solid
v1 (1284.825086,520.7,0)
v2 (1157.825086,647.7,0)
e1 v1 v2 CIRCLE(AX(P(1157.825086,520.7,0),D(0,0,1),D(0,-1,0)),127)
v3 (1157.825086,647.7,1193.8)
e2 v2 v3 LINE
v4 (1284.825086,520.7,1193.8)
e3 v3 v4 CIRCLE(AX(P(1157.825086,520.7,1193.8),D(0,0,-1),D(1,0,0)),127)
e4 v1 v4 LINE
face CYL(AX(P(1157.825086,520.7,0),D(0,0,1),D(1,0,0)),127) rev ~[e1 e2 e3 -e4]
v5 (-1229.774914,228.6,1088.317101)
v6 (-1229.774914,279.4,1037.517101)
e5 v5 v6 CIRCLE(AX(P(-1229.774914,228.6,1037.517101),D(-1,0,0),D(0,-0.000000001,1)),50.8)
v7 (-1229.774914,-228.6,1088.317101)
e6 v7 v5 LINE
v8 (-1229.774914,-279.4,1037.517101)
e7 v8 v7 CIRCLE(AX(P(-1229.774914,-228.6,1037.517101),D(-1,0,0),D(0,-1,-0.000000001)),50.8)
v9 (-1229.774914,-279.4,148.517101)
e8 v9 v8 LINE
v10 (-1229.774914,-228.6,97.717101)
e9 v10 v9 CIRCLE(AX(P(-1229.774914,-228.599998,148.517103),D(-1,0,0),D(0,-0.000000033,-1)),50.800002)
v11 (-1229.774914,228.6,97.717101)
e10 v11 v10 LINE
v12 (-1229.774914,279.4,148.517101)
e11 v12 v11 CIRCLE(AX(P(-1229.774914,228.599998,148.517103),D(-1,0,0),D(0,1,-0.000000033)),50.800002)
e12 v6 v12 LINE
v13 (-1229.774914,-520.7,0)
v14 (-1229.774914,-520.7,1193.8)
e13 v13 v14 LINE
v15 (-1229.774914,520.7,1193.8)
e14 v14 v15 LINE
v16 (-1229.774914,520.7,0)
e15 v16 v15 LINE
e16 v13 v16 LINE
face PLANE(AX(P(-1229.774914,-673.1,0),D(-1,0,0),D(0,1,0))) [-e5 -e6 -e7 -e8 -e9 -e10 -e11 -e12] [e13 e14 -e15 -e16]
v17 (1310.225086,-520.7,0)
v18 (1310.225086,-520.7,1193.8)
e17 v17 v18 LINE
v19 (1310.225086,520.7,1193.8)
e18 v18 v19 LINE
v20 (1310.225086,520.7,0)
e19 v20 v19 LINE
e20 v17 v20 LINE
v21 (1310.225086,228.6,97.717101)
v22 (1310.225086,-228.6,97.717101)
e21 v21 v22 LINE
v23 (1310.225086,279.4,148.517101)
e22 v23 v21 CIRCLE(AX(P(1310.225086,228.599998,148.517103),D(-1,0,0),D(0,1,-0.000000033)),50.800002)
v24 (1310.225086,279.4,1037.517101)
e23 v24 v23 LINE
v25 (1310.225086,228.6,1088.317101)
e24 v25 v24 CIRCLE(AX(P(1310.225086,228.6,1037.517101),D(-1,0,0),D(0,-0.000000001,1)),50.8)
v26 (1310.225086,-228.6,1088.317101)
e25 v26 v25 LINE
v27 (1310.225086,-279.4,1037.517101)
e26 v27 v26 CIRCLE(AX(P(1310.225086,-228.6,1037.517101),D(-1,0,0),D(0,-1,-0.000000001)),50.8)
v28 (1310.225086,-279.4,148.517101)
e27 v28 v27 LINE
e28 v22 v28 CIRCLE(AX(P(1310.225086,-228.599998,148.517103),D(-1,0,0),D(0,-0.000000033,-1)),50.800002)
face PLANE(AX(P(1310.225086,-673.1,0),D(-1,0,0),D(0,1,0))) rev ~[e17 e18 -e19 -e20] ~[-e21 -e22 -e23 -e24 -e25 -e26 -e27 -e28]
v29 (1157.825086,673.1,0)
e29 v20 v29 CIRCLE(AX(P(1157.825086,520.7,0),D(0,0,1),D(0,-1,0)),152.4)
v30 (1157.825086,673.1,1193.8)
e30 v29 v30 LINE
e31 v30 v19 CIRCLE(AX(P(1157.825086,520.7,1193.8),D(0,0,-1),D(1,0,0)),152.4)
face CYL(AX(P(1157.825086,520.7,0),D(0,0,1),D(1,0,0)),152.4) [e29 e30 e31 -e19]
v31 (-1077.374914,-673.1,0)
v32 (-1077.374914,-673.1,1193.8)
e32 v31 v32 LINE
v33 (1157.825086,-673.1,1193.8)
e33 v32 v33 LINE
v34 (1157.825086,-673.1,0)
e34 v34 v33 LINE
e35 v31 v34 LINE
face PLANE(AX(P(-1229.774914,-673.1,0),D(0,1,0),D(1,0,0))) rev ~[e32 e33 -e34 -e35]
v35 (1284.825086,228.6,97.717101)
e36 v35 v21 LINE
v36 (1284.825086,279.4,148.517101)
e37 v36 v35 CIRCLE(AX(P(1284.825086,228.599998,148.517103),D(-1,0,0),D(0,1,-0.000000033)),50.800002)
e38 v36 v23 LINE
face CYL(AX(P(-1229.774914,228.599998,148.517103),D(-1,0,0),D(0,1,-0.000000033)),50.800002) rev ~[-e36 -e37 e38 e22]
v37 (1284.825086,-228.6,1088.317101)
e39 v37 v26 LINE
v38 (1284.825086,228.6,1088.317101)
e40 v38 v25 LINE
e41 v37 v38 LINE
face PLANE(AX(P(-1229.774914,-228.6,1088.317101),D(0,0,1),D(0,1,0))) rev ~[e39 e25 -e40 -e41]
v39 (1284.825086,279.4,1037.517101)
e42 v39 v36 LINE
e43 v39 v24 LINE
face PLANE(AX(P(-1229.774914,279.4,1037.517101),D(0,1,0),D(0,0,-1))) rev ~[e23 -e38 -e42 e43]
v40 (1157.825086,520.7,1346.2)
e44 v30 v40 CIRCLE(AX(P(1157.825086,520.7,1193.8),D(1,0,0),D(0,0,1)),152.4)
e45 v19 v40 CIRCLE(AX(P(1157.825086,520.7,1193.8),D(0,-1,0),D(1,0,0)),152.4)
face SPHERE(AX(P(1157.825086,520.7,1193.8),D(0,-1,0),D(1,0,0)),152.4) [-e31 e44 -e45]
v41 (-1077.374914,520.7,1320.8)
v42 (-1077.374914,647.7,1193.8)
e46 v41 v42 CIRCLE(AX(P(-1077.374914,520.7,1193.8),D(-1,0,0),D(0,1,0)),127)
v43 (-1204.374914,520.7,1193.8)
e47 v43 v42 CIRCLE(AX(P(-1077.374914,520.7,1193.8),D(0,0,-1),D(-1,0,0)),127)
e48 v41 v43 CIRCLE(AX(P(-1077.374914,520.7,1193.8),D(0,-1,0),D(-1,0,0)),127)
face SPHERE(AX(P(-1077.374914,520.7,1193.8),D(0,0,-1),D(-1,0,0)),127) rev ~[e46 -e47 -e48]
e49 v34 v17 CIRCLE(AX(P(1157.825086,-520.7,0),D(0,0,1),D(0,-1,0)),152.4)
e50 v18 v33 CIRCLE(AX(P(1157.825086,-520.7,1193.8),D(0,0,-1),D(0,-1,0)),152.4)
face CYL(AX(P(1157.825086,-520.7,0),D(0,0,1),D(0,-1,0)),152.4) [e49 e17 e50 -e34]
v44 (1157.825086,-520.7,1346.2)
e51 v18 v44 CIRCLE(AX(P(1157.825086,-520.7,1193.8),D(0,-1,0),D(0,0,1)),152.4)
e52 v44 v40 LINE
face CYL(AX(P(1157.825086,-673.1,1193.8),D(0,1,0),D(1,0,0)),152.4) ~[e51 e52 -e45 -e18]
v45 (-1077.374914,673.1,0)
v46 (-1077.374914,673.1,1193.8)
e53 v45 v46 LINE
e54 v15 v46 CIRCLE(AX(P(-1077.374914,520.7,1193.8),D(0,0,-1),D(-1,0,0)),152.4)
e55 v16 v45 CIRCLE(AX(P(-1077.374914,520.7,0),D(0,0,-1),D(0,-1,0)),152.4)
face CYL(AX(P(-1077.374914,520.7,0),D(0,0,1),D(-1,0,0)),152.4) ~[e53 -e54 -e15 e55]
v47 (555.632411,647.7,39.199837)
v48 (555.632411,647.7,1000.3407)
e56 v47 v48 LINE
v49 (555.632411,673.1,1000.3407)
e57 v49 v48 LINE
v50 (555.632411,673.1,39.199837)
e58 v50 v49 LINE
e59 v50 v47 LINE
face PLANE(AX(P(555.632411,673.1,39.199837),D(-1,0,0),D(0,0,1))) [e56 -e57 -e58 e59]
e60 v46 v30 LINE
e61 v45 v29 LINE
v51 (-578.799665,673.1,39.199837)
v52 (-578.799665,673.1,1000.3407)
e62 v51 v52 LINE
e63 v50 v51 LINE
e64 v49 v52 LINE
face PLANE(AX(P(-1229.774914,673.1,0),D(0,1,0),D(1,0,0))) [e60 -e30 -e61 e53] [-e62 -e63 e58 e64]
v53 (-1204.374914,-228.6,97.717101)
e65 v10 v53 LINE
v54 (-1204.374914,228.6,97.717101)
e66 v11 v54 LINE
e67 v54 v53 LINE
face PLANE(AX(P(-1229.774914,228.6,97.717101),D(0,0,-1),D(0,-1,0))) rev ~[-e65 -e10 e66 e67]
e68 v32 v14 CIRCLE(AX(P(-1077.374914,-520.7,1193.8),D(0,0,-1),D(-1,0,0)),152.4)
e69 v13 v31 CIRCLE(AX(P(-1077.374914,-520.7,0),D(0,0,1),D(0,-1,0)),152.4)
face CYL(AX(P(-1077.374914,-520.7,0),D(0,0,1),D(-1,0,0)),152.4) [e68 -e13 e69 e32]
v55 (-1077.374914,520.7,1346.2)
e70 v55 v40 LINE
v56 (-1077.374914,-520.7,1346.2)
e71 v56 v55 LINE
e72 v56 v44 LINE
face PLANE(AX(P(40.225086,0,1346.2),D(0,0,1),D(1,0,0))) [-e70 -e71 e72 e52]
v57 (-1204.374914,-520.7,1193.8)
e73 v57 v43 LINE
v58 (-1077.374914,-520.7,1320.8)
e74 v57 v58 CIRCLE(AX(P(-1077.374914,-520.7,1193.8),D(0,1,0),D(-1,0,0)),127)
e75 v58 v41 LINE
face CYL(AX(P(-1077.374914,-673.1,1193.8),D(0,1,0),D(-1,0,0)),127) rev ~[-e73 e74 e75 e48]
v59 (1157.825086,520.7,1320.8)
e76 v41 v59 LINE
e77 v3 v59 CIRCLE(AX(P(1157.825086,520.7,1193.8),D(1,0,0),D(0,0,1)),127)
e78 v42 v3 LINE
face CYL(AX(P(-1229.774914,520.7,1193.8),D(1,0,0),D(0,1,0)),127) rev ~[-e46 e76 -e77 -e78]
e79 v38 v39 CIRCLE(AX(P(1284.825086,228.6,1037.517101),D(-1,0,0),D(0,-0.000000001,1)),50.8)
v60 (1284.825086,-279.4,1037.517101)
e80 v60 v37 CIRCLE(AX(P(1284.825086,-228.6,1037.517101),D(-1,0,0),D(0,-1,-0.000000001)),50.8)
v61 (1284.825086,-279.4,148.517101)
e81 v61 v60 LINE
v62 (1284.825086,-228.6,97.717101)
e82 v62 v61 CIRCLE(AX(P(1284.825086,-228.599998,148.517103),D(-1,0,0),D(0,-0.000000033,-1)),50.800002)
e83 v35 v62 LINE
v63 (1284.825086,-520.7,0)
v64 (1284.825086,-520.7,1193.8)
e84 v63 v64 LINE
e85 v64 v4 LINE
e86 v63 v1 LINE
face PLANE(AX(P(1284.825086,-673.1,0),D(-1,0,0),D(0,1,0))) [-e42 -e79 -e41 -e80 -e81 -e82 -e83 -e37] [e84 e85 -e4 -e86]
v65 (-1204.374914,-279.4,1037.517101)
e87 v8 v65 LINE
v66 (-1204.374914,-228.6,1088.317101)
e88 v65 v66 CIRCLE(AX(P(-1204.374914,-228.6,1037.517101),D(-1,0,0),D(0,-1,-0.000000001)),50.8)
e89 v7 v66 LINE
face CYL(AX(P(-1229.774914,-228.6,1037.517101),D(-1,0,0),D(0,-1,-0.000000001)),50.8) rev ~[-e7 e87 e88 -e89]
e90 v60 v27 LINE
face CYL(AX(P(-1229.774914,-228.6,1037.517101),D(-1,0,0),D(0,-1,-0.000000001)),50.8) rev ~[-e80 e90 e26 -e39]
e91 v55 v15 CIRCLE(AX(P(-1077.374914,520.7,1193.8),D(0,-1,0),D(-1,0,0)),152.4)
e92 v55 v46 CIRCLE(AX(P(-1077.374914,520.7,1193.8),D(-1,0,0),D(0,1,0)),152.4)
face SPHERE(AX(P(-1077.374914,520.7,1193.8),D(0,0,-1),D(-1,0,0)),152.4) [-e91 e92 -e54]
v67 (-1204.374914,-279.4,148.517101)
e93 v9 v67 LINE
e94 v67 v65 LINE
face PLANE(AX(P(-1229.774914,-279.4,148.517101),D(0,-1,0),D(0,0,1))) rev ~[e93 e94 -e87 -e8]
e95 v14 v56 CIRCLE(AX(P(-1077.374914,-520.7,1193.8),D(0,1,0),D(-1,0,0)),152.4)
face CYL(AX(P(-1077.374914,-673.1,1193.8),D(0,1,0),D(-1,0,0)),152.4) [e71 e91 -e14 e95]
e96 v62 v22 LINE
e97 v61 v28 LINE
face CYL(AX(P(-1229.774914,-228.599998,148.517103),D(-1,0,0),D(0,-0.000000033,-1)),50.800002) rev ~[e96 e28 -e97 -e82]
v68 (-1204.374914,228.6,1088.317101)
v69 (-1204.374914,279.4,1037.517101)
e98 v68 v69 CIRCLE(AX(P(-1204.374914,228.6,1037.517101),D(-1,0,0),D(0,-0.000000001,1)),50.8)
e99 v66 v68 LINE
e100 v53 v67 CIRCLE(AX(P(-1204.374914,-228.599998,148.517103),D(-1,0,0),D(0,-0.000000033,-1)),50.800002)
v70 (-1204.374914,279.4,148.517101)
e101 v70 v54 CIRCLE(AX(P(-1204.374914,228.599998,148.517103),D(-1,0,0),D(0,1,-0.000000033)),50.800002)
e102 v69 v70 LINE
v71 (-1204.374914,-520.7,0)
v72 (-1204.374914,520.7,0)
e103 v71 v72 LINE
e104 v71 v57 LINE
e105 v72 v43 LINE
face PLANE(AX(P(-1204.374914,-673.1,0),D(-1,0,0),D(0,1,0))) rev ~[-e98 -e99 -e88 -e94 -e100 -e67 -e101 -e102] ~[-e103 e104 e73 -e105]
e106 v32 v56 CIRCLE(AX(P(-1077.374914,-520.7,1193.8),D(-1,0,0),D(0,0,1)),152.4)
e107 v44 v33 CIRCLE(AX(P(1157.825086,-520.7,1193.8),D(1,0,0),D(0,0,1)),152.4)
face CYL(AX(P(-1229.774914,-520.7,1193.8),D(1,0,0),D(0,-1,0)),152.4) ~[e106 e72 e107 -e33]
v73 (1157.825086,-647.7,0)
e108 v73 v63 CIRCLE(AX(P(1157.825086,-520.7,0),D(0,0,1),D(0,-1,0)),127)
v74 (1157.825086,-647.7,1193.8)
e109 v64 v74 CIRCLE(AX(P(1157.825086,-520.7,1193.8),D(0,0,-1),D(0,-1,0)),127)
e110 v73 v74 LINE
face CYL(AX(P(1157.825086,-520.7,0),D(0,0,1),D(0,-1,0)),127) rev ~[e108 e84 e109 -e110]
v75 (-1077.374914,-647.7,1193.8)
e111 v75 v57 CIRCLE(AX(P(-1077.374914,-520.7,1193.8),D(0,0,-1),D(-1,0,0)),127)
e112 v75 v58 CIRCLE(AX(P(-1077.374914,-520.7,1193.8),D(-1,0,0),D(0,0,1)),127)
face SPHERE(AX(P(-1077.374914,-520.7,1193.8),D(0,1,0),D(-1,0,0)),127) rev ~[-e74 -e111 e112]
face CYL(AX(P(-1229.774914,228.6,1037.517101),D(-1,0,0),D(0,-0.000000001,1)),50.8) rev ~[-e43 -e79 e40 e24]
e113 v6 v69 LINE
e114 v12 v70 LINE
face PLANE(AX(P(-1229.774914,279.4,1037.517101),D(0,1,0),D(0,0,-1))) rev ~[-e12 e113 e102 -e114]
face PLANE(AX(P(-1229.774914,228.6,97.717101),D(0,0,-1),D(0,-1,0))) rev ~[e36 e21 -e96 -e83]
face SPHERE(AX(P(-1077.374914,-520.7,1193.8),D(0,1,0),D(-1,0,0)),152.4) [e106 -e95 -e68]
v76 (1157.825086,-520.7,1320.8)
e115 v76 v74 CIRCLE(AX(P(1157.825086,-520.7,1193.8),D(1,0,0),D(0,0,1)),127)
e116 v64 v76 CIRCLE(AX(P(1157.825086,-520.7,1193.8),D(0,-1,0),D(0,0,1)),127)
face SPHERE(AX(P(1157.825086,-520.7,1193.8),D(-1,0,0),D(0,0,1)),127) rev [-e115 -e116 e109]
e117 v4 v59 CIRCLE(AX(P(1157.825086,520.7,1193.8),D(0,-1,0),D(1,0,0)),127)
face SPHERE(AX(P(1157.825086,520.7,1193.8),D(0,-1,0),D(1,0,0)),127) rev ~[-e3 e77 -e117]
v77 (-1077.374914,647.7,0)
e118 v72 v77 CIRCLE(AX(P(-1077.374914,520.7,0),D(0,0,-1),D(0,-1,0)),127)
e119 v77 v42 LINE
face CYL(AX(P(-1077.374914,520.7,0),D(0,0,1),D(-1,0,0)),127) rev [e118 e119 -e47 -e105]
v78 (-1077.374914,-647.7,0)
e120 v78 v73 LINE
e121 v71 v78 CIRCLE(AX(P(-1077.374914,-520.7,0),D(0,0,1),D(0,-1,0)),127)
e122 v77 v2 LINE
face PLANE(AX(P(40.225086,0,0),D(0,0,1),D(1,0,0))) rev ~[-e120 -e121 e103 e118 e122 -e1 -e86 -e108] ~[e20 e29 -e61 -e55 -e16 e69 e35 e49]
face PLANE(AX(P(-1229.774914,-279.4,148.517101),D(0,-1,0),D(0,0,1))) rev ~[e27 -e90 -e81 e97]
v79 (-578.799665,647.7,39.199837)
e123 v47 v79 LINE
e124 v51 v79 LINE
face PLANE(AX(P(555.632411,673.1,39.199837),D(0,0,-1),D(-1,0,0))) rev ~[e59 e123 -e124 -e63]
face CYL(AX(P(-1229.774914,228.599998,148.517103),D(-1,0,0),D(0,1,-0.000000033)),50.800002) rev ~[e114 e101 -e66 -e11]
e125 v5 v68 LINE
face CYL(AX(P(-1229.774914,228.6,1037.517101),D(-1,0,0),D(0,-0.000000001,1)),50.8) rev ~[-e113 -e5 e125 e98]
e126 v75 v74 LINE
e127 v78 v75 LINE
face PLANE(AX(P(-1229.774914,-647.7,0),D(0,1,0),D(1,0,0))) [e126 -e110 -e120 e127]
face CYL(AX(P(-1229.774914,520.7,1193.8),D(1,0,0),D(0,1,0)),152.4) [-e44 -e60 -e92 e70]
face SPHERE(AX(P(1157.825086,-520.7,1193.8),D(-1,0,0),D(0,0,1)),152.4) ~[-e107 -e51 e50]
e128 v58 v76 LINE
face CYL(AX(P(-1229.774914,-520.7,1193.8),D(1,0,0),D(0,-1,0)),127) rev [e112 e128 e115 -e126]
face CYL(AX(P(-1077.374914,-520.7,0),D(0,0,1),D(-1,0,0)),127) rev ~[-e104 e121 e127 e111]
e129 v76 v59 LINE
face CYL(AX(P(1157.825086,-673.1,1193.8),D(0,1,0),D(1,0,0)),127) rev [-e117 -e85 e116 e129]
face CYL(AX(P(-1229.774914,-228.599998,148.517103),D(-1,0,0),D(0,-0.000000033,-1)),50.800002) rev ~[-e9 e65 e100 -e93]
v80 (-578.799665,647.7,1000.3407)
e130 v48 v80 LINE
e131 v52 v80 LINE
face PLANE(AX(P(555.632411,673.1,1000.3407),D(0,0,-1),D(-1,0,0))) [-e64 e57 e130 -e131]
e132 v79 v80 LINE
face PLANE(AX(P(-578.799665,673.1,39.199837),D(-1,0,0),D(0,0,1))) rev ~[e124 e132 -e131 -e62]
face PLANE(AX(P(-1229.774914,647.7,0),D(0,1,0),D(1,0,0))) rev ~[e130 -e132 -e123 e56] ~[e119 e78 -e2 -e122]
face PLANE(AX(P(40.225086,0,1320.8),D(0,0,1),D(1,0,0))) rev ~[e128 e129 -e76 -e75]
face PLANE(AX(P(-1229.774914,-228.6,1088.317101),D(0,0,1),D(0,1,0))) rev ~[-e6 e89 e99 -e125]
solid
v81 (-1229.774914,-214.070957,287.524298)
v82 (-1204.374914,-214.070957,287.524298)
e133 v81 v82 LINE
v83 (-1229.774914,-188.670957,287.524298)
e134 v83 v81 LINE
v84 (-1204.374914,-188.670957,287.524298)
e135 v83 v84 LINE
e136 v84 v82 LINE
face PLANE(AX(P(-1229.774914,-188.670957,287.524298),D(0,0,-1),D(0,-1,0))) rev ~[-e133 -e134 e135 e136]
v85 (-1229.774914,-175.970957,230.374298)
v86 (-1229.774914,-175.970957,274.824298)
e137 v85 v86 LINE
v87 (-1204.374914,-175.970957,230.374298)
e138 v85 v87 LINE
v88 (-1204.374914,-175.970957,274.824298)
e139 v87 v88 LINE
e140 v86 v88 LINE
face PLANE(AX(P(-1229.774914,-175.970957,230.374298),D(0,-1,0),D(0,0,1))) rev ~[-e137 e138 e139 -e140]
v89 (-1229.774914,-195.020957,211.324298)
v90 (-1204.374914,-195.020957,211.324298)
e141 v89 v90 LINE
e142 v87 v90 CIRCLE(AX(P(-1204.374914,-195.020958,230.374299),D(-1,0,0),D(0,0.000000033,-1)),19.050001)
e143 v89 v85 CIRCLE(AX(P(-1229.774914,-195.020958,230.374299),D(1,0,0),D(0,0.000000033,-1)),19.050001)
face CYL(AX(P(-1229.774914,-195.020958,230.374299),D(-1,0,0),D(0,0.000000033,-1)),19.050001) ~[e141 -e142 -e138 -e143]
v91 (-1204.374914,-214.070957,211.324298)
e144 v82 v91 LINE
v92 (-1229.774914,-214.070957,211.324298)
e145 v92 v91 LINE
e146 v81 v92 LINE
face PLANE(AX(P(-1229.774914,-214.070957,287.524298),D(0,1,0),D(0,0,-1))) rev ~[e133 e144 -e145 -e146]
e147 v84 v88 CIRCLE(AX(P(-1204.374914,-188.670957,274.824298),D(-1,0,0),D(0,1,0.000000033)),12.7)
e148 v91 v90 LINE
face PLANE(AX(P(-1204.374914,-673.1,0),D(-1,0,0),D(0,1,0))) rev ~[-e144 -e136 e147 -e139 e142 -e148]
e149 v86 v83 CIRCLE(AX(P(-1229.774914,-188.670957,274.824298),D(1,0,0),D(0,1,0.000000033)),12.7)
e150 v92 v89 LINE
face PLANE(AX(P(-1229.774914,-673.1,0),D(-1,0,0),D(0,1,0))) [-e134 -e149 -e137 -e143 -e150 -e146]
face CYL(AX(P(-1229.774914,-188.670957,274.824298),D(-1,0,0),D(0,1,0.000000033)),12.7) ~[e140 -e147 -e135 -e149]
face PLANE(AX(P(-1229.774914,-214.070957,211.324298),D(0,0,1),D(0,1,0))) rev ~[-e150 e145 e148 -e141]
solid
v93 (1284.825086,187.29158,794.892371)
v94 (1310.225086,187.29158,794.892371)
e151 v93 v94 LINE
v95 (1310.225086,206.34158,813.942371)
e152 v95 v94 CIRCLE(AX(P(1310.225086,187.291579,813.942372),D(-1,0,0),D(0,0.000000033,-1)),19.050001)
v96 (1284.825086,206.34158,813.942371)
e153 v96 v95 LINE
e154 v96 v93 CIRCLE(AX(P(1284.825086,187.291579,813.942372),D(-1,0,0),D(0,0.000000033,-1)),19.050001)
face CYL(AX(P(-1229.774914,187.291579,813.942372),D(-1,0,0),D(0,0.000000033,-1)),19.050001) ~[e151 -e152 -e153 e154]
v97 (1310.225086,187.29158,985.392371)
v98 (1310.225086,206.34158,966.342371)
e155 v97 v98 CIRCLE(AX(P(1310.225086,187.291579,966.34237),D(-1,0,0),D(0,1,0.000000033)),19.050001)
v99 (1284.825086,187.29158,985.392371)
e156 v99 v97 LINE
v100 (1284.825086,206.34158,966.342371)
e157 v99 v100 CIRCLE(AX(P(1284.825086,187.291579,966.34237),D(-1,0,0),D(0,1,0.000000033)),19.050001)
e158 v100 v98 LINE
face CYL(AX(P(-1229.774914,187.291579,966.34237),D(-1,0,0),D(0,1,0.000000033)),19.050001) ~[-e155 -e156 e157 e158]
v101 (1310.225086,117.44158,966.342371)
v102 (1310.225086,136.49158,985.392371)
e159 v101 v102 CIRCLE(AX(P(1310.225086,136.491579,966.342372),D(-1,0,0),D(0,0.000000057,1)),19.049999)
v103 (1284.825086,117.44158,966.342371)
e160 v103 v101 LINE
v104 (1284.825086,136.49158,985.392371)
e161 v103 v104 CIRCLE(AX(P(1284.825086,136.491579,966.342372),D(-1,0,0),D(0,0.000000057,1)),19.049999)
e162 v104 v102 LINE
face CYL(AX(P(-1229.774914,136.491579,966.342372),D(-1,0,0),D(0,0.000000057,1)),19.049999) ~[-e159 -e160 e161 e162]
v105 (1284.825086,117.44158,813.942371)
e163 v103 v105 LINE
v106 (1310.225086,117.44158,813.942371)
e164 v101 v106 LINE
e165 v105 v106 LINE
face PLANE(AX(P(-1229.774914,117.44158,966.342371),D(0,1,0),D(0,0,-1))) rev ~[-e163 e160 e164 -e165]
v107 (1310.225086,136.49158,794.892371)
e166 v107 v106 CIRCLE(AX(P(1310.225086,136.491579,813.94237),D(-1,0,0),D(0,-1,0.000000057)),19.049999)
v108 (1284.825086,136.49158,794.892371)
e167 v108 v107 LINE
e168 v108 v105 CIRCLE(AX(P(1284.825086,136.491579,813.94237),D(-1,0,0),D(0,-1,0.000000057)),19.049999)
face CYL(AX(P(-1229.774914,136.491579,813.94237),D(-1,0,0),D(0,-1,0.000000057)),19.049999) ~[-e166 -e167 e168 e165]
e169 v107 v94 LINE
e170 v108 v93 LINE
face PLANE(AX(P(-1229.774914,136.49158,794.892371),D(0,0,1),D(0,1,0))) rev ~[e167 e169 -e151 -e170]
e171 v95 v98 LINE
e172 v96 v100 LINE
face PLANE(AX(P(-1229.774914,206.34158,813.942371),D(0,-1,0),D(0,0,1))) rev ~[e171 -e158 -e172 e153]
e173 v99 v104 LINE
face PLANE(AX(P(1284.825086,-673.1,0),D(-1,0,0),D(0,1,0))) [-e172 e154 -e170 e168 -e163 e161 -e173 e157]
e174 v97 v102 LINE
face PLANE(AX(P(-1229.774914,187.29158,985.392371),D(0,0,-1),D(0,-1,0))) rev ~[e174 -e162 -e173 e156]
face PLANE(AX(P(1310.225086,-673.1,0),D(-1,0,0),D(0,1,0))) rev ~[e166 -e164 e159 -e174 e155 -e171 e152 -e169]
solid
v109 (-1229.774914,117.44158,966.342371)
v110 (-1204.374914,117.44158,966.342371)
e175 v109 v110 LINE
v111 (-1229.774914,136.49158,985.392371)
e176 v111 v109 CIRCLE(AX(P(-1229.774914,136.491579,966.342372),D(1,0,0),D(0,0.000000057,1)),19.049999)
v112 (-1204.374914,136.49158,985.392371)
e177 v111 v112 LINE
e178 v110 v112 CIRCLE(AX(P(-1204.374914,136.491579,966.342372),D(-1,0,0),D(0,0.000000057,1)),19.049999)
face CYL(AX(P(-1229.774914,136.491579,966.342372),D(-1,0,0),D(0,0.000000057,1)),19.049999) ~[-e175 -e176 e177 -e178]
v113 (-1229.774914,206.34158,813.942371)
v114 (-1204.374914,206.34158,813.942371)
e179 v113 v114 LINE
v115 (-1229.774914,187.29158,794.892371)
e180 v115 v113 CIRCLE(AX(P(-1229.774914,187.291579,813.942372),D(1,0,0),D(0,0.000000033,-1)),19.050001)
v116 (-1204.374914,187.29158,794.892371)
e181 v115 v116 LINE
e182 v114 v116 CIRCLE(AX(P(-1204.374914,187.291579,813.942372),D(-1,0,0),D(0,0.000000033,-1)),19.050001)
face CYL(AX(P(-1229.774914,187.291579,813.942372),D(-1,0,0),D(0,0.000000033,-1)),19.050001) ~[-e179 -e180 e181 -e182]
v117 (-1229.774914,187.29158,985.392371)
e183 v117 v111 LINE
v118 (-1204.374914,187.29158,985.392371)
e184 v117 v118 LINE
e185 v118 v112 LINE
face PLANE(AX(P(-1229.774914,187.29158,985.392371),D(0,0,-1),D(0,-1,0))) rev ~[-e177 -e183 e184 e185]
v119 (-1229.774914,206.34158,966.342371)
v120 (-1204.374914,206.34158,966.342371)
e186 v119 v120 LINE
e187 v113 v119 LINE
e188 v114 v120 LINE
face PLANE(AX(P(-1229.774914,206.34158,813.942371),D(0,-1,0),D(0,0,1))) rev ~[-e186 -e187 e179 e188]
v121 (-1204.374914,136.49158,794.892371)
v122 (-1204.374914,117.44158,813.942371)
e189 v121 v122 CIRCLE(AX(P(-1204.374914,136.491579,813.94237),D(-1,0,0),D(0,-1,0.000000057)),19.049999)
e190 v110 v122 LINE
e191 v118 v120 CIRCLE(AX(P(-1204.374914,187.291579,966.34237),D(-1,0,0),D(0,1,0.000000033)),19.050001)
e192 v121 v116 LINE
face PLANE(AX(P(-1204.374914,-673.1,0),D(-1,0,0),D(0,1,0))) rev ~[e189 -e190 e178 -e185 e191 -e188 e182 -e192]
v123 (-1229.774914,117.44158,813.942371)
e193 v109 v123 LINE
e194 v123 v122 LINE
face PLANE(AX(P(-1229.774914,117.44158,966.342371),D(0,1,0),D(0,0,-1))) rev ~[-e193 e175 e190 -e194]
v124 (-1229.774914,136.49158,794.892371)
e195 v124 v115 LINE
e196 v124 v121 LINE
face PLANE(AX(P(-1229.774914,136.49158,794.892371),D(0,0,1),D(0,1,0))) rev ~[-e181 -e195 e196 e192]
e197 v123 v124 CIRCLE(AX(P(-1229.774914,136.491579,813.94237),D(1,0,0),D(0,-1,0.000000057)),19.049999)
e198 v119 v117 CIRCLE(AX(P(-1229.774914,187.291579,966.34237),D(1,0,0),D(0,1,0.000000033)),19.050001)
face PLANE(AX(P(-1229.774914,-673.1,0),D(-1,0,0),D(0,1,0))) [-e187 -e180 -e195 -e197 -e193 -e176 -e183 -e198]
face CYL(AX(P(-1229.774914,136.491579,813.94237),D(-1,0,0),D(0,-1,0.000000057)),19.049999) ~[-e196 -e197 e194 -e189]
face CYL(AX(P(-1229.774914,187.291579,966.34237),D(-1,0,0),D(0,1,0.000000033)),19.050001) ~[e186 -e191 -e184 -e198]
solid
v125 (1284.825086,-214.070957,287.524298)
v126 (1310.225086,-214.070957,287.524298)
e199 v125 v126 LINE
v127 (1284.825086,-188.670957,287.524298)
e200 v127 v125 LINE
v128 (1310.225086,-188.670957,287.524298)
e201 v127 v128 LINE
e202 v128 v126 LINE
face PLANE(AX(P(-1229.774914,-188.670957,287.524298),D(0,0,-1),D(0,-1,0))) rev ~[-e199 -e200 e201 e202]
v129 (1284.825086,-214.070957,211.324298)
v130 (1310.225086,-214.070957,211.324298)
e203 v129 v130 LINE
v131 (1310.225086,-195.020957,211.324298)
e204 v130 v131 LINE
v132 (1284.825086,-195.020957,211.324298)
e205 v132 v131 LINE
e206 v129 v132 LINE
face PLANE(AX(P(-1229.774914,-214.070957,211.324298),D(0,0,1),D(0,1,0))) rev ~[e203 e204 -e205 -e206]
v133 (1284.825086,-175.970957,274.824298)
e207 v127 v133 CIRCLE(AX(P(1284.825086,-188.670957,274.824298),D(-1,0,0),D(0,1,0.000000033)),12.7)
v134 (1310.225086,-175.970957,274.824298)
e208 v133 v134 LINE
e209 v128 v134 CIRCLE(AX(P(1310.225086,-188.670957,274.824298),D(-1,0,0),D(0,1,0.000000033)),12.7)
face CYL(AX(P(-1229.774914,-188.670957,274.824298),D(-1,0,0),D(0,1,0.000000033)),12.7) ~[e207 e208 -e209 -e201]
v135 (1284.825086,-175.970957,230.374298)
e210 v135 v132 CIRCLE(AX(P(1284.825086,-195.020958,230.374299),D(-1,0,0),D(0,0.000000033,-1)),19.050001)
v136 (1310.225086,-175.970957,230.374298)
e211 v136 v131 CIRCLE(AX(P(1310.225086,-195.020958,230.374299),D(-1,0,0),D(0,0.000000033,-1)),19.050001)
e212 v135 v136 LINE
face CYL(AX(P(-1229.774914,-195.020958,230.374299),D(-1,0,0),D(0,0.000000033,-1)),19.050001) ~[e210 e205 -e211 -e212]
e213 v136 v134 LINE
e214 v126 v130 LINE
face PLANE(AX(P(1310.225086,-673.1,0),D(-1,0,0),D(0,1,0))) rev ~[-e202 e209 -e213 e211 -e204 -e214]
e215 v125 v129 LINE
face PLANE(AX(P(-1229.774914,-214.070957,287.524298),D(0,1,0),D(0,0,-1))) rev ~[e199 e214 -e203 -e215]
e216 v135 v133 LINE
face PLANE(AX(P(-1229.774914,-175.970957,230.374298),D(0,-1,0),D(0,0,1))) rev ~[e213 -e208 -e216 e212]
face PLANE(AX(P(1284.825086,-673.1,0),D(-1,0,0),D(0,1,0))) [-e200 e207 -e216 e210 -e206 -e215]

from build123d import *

# Parameters (mm, degrees)
F0_W     = 2540
F0_H     = 1346.2
F1_DEPTH = 1346.2
F2_R     = 152.4
F3_T     = -25.4
F5_DEPTH = 3449.32
F6_W     = 1134.432077
F6_H     = 961.140863
F7_DEPTH = 25.4


with BuildPart() as f1:
    # F0 (on Top) → F1 (new body)
    with BuildSketch(Plane.XY):
        with Locations((40.225086, 0)):
            Rectangle(F0_W, F0_H)
    extrude(amount=F1_DEPTH)

    # F2
    f2_edges = [f1.edges().sort_by_distance(p)[0] for p in [
        (-1229.774914, 673.1, 673.1),
        (-1229.774914, 0, 1346.2),
        (-1229.774914, -673.1, 673.1),
        (40.225086, -673.1, 1346.2),
        (1310.225086, 0, 1346.2),
        (1310.225086, -673.1, 673.1),
        (1310.225086, 673.1, 673.1),
        (40.225086, 673.1, 1346.2),
    ]]
    fillet(f2_edges, radius=F2_R)

    # F3
    f3_openings = [f1.faces().sort_by_distance(p)[0] for p in [
        (40.225086, 0, 0),
    ]]
    offset(amount=F3_T, openings=f3_openings)

    # F4 (on face) → F5 (cut)
    with BuildSketch(Plane(origin=(-1229.774914, 0, 0), x_dir=(0, -1, 0), z_dir=(-1, 0, 0))):
        with BuildLine():
            ThreePointArc((279.4, 1037.517101), (264.521024, 1073.438126), (228.6, 1088.317101))
            Line((228.6, 1088.317101), (-228.6, 1088.317101))
            ThreePointArc((-228.6, 1088.317101), (-264.521024, 1073.438126), (-279.4, 1037.517101))
            Line((-279.4, 1037.517101), (-279.4, 148.517101))
            ThreePointArc((-279.4, 148.517101), (-264.521024, 112.596077), (-228.6, 97.717101))
            Line((-228.6, 97.717101), (228.6, 97.717101))
            ThreePointArc((228.6, 97.717101), (264.521024, 112.596077), (279.4, 148.517101))
            Line((279.4, 148.517101), (279.4, 1037.517101))
        make_face()
        with BuildLine():
            Line((214.070957, 211.324298), (195.020957, 211.324298))
            ThreePointArc((195.020957, 211.324298), (181.550573, 216.903914), (175.970957, 230.374298))
            Line((175.970957, 230.374298), (175.970957, 274.824298))
            ThreePointArc((175.970957, 274.824298), (179.690701, 283.804554), (188.670957, 287.524298))
            Line((188.670957, 287.524298), (214.070957, 287.524298))
            Line((214.070957, 287.524298), (214.070957, 211.324298))
        make_face(mode=Mode.SUBTRACT)
        with BuildLine():
            ThreePointArc((-206.34158, 966.342371), (-200.761964, 979.812755), (-187.29158, 985.392371))
            Line((-187.29158, 985.392371), (-136.49158, 985.392371))
            ThreePointArc((-136.49158, 985.392371), (-123.021195, 979.812755), (-117.44158, 966.342371))
            Line((-117.44158, 966.342371), (-117.44158, 813.942371))
            ThreePointArc((-117.44158, 813.942371), (-123.021195, 800.471987), (-136.49158, 794.892371))
            Line((-136.49158, 794.892371), (-187.29158, 794.892371))
            ThreePointArc((-187.29158, 794.892371), (-200.761964, 800.471987), (-206.34158, 813.942371))
            Line((-206.34158, 813.942371), (-206.34158, 966.342371))
        make_face(mode=Mode.SUBTRACT)
    extrude(amount=-F5_DEPTH, mode=Mode.SUBTRACT)

    # F6 (on face) → F7 (cut)
    with BuildSketch(Plane(origin=(0, 673.1, 0), x_dir=(-1, 0, 0), z_dir=(0, 1, 0))):
        with Locations((11.583627, 519.770268)):
            Rectangle(F6_W, F6_H)
    extrude(amount=-F7_DEPTH, mode=Mode.SUBTRACT)


solid = f1.part
